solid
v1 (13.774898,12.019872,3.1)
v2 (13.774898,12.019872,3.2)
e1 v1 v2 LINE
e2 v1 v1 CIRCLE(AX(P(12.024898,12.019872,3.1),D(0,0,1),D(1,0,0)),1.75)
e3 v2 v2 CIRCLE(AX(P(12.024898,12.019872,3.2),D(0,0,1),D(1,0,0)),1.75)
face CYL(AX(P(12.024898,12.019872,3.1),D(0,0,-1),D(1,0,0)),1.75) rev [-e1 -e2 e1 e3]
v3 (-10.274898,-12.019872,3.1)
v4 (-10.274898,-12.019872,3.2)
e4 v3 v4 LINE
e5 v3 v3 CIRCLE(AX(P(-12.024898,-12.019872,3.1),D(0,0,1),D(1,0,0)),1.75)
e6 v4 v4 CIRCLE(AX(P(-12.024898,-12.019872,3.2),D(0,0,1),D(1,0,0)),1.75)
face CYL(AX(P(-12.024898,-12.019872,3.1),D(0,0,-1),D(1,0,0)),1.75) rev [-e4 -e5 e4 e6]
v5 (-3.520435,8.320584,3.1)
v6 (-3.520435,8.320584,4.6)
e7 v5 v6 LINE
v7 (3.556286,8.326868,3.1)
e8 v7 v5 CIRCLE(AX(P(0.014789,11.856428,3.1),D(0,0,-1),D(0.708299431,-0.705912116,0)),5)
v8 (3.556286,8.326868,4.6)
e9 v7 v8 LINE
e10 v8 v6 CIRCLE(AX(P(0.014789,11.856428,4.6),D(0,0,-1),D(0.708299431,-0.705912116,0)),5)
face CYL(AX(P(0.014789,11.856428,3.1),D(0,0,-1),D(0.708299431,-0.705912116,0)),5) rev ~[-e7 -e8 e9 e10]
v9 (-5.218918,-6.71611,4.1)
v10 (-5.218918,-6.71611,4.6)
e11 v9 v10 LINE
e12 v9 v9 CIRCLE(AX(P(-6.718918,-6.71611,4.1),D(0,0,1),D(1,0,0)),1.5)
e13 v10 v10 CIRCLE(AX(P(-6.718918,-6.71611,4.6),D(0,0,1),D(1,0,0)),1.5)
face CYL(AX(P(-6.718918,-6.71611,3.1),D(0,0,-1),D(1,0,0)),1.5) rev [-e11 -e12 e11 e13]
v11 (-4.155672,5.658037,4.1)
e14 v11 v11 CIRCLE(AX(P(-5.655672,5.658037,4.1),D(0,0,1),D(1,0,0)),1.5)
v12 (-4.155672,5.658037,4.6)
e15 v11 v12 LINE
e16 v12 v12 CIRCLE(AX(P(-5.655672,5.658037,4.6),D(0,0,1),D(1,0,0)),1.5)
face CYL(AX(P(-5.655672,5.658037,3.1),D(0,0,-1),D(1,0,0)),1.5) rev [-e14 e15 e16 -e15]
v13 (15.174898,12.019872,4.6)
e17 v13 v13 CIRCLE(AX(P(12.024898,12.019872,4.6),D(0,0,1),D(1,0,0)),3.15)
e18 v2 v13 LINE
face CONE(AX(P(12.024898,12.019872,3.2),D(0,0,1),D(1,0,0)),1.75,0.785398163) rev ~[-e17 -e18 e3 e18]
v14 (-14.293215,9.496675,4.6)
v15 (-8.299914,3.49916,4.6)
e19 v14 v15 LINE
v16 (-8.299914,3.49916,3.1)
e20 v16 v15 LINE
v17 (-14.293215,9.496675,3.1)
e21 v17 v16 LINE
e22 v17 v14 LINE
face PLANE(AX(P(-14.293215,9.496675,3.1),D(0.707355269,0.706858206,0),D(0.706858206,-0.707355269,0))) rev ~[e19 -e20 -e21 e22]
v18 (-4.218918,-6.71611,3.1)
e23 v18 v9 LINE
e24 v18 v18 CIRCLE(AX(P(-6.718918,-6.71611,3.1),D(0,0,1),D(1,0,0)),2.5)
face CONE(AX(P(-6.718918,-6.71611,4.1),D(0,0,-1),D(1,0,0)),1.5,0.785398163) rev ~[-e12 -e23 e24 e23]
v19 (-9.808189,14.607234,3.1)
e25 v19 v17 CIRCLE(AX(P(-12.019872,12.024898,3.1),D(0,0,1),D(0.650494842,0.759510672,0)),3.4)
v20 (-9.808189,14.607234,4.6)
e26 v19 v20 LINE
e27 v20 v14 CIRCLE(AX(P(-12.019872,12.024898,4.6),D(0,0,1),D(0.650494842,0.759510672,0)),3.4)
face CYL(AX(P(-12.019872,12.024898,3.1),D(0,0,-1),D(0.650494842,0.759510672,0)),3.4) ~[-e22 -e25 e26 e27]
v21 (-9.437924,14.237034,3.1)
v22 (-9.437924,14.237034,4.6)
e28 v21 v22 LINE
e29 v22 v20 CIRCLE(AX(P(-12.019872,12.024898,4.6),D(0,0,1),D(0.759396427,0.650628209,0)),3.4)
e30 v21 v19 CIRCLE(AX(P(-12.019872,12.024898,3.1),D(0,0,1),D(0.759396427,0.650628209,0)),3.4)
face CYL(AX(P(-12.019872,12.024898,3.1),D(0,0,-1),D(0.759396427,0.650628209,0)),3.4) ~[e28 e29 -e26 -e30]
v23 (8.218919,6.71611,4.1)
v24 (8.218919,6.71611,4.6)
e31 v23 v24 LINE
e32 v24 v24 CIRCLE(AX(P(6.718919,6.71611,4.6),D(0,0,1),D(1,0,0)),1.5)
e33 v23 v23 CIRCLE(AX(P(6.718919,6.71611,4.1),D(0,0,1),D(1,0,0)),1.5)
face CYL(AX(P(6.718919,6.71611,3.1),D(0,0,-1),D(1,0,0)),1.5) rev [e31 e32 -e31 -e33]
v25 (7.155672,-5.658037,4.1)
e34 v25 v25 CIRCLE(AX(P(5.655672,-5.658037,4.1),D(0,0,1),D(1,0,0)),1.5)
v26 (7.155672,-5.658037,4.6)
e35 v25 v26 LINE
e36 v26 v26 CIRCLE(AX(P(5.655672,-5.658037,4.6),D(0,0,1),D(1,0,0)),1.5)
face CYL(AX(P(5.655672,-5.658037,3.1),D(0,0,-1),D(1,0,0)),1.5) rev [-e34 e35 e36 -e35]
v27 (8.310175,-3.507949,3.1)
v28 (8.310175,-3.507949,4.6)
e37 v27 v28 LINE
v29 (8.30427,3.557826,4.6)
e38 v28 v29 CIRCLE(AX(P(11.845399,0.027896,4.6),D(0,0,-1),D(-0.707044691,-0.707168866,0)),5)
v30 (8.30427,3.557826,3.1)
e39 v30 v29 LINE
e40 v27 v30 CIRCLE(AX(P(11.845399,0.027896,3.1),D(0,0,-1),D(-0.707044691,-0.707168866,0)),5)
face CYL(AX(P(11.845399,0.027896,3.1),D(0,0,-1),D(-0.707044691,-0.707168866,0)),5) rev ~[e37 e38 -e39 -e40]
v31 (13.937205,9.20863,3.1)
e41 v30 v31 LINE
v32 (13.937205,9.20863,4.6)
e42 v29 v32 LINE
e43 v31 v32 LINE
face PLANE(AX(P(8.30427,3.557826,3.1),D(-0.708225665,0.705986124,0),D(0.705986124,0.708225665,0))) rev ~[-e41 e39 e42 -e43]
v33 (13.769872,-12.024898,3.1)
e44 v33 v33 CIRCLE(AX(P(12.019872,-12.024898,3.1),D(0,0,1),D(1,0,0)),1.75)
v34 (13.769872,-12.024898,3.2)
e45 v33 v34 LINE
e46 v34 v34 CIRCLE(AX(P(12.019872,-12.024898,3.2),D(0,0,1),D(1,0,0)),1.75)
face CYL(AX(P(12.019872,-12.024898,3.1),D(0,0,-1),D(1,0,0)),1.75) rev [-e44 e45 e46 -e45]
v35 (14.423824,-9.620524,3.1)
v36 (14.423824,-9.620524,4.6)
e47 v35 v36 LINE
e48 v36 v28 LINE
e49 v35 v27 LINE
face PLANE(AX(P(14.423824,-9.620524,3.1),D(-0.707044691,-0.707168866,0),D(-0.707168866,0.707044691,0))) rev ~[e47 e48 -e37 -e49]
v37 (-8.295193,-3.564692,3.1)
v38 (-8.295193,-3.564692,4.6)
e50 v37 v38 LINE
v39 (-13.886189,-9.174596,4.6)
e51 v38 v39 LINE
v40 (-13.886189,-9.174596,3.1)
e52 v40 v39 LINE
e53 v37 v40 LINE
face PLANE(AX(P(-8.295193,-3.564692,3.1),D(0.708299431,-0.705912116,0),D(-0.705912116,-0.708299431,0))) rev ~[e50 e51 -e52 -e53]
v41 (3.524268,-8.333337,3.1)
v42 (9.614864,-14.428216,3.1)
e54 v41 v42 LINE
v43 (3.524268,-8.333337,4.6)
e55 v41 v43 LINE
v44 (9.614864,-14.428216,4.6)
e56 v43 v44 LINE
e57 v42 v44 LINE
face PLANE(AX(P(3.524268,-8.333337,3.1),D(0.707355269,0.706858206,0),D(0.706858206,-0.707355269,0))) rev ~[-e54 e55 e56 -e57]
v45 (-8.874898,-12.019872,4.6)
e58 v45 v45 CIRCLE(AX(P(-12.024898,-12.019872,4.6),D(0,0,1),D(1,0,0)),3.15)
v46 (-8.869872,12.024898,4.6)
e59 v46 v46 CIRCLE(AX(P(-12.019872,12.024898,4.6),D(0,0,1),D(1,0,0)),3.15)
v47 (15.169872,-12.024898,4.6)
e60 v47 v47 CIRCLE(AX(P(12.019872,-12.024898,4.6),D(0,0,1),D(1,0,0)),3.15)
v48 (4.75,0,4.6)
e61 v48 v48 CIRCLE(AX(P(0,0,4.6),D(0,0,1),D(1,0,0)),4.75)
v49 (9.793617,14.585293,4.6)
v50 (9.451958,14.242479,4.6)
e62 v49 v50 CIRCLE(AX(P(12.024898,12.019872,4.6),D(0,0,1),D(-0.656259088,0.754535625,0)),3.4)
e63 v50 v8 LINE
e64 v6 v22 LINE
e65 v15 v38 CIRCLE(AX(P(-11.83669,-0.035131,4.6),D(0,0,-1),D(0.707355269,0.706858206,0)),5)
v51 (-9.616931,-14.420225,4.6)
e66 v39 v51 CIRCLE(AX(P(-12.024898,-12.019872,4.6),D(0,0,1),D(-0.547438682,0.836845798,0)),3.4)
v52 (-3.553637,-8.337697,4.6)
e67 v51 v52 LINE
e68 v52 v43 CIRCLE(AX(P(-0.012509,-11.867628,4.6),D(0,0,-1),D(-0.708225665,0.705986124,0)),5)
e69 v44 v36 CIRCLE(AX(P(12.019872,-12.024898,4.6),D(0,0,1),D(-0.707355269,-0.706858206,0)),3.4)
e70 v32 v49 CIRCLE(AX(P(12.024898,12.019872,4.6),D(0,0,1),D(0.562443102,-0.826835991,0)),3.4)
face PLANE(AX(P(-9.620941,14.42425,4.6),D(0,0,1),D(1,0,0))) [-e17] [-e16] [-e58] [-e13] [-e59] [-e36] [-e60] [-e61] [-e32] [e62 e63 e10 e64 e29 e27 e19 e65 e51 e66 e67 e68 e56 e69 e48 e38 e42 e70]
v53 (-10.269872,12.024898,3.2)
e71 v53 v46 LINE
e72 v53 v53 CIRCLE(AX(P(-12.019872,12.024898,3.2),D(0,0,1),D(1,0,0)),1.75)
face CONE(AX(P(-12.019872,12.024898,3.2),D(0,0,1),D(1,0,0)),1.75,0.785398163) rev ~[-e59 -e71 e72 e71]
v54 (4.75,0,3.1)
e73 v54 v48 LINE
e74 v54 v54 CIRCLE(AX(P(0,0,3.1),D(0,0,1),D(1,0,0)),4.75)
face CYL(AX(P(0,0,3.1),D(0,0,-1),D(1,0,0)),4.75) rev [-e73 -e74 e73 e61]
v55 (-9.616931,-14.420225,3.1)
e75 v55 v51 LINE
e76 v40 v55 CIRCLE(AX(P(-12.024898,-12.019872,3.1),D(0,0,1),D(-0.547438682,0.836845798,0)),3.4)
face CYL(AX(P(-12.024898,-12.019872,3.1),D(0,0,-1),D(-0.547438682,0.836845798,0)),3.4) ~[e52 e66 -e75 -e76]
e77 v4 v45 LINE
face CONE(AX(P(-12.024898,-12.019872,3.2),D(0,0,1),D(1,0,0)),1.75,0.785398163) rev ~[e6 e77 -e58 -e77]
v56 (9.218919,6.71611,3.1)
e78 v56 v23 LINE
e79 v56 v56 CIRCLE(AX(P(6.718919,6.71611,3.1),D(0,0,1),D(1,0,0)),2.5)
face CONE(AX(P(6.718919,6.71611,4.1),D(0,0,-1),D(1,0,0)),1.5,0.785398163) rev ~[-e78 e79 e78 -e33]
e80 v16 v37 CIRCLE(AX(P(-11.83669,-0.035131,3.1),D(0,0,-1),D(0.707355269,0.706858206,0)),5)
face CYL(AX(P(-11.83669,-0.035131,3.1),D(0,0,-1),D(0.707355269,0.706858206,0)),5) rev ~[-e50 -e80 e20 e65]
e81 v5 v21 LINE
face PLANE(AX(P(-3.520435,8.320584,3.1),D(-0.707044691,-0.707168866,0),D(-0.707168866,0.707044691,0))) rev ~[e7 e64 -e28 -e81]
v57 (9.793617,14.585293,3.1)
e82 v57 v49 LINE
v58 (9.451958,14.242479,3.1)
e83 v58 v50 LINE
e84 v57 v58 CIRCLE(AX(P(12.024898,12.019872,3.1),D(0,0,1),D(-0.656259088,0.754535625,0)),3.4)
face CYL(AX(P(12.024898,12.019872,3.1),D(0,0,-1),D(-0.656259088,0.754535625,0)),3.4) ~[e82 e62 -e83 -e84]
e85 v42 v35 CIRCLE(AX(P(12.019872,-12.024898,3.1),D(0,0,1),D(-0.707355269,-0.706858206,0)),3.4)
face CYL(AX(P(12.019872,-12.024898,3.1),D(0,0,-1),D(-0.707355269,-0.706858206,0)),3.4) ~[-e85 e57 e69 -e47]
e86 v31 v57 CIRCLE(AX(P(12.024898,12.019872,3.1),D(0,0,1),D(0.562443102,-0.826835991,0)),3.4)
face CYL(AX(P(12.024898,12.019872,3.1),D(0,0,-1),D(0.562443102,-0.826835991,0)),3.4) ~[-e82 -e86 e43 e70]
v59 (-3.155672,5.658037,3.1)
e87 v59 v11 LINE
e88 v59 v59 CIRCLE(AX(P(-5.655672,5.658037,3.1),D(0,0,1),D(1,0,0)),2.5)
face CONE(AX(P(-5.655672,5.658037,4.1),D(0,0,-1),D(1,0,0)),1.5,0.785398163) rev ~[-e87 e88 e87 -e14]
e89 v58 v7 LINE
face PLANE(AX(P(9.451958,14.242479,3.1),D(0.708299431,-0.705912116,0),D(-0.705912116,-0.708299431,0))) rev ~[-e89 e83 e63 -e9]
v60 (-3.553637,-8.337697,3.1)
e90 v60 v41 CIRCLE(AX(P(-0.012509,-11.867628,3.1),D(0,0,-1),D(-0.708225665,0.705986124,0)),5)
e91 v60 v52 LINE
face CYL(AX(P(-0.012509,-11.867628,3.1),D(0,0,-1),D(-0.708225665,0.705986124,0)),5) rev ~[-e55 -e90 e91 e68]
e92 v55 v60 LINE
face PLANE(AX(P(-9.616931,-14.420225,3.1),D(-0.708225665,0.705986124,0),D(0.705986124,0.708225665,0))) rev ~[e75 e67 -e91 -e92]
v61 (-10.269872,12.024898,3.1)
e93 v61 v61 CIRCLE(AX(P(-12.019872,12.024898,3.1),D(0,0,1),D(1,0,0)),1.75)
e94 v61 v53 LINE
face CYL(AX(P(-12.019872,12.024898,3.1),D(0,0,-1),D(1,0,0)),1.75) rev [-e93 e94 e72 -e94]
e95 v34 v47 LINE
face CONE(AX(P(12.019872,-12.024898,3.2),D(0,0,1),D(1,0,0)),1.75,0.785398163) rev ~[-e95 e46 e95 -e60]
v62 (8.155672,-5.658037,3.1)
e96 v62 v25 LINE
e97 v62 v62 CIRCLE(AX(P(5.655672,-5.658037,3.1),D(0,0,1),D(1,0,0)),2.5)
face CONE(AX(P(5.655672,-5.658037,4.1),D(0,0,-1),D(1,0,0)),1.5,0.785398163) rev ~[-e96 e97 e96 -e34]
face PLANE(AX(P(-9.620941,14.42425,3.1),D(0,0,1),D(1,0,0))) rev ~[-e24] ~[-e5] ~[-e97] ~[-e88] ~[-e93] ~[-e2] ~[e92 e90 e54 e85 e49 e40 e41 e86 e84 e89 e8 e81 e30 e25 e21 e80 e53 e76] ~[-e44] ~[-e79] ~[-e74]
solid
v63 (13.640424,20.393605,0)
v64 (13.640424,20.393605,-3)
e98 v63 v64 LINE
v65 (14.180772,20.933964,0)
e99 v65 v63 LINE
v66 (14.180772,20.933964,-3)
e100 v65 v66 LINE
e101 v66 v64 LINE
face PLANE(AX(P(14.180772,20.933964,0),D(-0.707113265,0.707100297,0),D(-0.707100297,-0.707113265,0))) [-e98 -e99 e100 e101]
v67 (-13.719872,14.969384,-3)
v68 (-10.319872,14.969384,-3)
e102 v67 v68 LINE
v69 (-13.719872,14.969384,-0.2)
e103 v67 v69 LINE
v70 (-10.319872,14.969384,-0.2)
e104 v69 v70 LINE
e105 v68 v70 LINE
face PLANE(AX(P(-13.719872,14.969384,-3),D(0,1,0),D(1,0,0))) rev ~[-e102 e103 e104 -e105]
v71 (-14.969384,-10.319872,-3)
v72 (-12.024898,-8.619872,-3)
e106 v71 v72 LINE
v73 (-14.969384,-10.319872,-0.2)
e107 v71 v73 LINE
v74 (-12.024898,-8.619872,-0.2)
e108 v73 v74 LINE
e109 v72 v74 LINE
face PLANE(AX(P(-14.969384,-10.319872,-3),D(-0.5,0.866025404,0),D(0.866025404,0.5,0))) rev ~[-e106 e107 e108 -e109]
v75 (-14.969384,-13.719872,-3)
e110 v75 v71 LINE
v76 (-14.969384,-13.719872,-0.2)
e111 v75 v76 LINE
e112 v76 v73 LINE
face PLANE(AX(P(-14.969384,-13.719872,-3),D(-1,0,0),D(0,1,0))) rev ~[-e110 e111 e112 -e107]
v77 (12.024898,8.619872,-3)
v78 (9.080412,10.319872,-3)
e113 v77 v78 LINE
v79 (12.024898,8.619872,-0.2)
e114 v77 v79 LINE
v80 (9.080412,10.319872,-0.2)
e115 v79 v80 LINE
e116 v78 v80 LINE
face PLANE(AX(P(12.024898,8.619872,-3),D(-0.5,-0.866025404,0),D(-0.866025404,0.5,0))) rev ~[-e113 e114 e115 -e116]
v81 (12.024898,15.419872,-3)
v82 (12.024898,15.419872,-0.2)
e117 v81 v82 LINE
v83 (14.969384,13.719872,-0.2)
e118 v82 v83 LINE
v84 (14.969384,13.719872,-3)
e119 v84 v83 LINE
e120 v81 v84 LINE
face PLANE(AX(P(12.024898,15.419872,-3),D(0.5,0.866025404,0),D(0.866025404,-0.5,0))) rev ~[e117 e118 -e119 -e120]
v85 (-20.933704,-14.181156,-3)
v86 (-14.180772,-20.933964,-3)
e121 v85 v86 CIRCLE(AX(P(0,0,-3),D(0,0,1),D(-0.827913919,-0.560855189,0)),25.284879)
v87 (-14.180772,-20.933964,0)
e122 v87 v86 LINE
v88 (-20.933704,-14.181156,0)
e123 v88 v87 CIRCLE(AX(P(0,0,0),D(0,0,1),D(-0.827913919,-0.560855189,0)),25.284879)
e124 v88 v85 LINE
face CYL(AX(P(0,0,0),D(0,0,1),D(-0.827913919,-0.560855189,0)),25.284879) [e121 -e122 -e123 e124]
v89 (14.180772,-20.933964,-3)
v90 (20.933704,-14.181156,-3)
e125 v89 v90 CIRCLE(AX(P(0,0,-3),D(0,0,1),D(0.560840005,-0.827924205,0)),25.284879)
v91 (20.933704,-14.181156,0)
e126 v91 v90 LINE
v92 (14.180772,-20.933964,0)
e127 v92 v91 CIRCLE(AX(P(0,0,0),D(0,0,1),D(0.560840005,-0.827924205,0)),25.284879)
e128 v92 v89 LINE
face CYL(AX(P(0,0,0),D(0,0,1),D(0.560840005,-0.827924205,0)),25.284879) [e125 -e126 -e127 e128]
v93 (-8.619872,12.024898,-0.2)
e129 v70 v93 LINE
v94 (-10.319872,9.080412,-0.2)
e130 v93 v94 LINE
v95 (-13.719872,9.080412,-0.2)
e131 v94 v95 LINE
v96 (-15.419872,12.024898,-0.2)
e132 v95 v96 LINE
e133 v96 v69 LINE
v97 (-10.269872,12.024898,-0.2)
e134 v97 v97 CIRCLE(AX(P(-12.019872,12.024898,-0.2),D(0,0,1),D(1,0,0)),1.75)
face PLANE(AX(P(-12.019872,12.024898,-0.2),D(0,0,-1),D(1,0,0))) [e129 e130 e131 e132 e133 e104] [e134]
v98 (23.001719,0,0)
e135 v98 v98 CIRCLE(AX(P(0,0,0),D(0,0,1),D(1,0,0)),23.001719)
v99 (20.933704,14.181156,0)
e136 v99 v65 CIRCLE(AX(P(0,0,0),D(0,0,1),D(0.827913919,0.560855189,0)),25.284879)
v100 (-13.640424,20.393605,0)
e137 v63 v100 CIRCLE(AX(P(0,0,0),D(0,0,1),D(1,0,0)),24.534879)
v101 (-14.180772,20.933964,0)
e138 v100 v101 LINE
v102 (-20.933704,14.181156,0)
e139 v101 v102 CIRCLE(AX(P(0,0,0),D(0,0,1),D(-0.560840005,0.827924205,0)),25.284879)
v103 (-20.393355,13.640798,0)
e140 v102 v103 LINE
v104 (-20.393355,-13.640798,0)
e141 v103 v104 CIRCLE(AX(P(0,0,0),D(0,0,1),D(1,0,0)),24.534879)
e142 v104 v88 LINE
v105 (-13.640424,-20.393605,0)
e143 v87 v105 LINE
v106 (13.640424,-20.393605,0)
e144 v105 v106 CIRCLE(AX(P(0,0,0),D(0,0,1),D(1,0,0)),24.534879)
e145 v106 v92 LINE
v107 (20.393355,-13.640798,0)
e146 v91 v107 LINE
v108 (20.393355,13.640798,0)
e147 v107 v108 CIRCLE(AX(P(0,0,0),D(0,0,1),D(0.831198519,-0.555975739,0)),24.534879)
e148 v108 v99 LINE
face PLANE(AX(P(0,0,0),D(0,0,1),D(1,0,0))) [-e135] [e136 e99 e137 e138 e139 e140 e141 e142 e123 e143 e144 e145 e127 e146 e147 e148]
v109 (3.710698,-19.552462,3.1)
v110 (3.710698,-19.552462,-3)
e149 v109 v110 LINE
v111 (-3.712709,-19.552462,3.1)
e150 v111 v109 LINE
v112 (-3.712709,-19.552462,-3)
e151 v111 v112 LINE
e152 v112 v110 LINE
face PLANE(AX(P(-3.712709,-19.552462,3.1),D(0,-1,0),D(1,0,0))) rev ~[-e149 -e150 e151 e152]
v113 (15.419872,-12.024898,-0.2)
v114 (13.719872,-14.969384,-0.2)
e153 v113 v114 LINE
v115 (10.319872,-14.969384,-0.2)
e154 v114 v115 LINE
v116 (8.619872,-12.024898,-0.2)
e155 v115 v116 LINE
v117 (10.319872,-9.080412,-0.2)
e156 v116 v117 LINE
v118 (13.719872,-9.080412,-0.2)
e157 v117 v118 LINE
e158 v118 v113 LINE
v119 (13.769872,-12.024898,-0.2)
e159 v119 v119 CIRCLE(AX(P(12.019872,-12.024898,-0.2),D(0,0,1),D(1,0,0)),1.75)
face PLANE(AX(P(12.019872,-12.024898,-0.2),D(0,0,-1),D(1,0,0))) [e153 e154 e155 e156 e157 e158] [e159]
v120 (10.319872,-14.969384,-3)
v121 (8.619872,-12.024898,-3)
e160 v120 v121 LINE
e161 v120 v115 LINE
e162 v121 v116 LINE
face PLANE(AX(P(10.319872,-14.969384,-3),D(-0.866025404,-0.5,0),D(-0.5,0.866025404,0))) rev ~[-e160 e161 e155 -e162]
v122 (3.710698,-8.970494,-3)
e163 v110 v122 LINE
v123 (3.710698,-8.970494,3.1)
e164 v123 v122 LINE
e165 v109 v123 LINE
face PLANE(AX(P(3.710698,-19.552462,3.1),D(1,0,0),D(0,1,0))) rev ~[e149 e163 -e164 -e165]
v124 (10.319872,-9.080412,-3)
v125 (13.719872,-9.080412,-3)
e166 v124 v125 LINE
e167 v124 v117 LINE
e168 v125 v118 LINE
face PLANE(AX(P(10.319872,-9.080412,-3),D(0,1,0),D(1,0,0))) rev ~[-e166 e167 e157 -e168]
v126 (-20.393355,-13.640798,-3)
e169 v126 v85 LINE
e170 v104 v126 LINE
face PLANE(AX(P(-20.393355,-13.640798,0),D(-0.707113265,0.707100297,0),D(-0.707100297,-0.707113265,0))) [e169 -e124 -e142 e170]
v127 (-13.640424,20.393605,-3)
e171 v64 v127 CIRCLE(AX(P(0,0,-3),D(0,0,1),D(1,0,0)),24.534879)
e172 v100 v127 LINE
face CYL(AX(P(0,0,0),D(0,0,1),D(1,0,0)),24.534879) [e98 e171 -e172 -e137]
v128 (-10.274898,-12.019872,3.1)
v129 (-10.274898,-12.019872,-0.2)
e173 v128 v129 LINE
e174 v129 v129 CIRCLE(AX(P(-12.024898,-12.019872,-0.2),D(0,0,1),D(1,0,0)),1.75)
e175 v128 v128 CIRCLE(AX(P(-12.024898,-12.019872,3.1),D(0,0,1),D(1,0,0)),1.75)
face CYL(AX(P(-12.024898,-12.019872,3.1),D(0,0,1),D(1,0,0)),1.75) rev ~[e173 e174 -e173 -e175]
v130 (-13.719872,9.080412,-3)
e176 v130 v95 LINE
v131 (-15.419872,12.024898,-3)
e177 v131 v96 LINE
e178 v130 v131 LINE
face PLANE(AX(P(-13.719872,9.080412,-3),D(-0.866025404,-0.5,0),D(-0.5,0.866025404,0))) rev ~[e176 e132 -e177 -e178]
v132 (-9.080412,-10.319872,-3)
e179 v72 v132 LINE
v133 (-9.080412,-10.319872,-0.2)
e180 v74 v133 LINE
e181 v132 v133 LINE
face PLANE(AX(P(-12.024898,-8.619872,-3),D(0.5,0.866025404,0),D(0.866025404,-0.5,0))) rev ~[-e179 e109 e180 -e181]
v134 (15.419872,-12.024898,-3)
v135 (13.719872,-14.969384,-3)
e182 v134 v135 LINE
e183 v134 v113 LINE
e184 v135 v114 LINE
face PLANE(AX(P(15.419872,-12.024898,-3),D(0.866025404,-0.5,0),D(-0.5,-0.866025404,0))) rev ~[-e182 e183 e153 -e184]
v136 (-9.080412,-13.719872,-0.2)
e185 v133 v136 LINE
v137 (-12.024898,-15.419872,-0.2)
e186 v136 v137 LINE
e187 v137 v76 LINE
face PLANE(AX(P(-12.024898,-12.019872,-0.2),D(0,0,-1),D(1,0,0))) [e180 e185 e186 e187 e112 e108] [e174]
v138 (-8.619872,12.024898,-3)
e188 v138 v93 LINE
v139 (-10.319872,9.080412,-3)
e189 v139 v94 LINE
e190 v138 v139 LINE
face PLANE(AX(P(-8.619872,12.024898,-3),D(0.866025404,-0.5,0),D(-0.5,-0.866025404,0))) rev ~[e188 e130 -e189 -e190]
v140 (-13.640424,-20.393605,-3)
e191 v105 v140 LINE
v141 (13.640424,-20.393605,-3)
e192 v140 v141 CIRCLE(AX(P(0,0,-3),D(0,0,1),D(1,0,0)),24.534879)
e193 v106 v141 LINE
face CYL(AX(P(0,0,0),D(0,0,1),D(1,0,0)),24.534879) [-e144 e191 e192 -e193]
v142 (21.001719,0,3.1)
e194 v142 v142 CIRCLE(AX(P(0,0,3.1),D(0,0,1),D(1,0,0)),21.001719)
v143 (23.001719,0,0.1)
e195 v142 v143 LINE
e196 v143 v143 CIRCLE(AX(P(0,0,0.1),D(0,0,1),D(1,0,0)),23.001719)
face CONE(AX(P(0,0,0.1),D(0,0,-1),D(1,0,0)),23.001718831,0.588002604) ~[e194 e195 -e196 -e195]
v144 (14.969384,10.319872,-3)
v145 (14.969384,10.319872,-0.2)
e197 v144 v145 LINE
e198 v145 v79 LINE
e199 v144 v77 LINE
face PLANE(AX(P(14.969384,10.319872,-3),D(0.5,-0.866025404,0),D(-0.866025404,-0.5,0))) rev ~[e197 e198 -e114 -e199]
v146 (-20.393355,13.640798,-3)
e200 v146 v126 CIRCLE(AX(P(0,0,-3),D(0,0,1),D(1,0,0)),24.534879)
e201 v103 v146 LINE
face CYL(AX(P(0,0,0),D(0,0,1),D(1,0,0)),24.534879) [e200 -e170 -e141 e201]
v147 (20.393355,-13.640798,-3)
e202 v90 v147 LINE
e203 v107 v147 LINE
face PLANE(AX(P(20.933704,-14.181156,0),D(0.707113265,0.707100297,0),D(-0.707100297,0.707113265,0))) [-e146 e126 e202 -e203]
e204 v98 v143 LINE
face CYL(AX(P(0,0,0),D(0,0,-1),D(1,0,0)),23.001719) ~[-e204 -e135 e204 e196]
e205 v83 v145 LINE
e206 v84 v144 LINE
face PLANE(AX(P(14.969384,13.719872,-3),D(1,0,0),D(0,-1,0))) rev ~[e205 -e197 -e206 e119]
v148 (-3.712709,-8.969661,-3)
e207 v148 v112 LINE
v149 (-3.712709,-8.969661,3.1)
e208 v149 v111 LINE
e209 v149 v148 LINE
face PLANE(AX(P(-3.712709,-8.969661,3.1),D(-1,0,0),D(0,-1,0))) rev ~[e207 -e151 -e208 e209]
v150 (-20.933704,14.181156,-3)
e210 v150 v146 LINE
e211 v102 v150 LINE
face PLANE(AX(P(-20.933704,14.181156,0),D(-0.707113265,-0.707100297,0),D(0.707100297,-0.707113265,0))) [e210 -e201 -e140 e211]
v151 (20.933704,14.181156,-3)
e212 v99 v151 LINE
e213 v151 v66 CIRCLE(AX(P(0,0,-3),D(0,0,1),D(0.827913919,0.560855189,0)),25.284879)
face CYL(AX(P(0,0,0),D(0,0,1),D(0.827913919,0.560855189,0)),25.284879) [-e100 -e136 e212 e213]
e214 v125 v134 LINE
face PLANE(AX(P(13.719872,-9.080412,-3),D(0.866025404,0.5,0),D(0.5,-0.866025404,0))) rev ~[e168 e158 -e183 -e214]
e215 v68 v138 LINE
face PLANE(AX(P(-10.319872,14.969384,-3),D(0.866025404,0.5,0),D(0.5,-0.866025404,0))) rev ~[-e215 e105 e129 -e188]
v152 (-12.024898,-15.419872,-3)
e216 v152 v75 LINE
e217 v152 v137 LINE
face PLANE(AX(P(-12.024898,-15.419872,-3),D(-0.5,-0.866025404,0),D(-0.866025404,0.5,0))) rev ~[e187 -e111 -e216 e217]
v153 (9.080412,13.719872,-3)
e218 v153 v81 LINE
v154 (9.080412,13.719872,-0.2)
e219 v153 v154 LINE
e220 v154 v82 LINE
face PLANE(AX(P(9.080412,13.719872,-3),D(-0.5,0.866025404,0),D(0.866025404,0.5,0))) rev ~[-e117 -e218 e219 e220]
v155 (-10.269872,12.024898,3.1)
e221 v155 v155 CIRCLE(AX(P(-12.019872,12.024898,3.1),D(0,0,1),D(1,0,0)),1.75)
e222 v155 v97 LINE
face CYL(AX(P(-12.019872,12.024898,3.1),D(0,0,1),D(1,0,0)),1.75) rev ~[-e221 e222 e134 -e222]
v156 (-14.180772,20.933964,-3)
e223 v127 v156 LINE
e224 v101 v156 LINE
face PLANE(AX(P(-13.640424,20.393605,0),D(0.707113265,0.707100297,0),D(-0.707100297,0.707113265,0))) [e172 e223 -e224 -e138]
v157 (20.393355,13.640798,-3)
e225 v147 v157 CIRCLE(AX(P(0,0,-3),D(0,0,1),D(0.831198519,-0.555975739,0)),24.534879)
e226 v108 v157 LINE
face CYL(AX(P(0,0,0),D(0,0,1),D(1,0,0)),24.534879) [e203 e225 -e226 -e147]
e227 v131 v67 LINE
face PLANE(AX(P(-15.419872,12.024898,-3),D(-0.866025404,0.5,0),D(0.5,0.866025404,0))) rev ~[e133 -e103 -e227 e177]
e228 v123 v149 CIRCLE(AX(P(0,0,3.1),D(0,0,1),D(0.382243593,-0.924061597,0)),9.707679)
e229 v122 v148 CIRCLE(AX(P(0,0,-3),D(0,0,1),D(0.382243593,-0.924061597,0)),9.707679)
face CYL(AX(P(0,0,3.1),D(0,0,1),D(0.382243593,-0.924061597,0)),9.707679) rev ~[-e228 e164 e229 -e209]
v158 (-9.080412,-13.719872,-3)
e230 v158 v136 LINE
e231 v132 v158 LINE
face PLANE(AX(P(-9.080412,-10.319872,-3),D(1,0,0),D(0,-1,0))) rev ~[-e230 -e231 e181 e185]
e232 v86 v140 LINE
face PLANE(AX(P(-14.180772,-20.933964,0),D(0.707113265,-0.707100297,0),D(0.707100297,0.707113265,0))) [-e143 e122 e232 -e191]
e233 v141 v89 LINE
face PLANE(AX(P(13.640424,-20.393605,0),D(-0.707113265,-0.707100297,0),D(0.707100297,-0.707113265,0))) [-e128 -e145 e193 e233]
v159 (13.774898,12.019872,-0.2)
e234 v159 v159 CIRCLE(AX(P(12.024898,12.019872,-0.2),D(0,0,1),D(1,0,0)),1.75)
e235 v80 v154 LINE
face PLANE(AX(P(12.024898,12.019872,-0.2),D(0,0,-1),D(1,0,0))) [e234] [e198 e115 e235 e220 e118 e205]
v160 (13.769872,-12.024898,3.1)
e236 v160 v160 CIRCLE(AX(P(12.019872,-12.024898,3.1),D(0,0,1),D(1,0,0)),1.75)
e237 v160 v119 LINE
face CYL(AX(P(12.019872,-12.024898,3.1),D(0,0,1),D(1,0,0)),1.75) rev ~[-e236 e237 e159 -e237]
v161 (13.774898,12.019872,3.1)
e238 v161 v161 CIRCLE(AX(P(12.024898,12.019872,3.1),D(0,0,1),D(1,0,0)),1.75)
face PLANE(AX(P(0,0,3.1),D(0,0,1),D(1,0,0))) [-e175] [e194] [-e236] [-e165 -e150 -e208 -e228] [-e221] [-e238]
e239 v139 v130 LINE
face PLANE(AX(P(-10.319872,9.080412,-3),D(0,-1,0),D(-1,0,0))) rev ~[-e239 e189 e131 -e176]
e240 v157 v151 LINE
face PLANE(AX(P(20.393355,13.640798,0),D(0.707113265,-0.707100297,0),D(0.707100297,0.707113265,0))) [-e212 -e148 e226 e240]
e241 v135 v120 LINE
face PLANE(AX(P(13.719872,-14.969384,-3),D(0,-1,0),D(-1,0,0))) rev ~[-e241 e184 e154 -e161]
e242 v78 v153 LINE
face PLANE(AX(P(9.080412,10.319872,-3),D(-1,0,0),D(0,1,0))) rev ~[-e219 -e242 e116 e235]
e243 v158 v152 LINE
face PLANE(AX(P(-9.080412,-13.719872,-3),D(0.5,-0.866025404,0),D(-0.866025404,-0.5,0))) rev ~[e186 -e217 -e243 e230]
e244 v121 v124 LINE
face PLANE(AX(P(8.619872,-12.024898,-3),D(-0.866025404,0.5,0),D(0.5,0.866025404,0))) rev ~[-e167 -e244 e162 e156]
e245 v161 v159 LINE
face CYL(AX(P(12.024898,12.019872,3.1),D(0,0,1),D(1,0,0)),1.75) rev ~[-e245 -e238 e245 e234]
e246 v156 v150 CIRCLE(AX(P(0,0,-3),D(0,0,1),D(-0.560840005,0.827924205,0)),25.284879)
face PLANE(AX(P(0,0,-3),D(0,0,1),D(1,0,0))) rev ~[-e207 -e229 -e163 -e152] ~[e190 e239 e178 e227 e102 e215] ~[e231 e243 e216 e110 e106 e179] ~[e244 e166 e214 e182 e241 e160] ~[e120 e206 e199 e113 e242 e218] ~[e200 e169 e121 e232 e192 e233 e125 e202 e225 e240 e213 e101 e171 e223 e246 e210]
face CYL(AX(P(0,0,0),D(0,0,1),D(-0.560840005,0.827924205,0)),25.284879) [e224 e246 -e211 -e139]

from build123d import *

# Parameters (mm, degrees)
F0_R      = 24.5348793033
F1_DEPTH  = 3
F2_R      = 23.001718831
F3_DEPTH  = 3.1
F4_SIZE2  = 3
F4_SIZE   = 2
F7_DEPTH  = 25
F5_R      = 1.75
F8_DEPTH  = 25
F9_R      = 1.75
F9_R_2    = 1.5
F9_R_3    = 4.75
F10_DEPTH = 1.5
F11_SIZE  = 1.4
F13_DEPTH = 2.8
F15_DEPTH = 3
F16_SIZE  = 1


with BuildPart() as f1:
    # F0 (on Top) → F1 (new body)
    with BuildSketch(Plane.XY):
        Circle(F0_R)
    extrude(amount=-F1_DEPTH)

    # F2 (on face) → F3 (join)
    with BuildSketch(Plane.XY):
        Circle(F2_R)
    extrude(amount=F3_DEPTH)

    # F4
    f4_edges = [f1.edges().sort_by_distance(p)[0] for p in [
        (-23.001719, 0, 3.1),
    ]]
    f4_side = f1.faces().sort_by_distance((0, 0, 3.1))[0]
    chamfer(f4_edges, length=F4_SIZE, length2=F4_SIZE2, reference=f4_side)

    # F6 (on face) → F7 (cut)
    with BuildSketch(Plane.XY.offset(3.1)):
        with BuildLine():
            Line((3.7106982378, -19.552461803), (3.7106982378, -8.9704936956))
            ThreePointArc((3.7106982378, -8.9704936956), (0.0010883204, 9.7076792989), (-3.7127094947, -8.9696614631))
            Line((-3.7127094947, -8.9696614631), (-3.7127094947, -19.552461803))
            Line((-3.7127094947, -19.552461803), (3.7106982378, -19.552461803))
        make_face()
    extrude(amount=-F7_DEPTH, mode=Mode.SUBTRACT)

    # F5 (on face) → F8 (cut)
    with BuildSketch(Plane.XY.offset(3.1)):
        with Locations((-12.0198717341, 12.024898082)):
            Circle(F5_R)
        with Locations((-12.024898082, -12.0198717341)):
            Circle(F5_R)
        with Locations((12.0198717341, -12.024898082)):
            Circle(F5_R)
        with Locations((12.024898082, 12.0198717341)):
            Circle(F5_R)
    extrude(amount=-F8_DEPTH, mode=Mode.SUBTRACT)

    # F12 (on face) → F13 (cut)
    with BuildSketch(Plane(origin=(0, 0, -3), x_dir=(1, 0, 0), z_dir=(0, 0, -1))):
        Polygon((10.3198717341, 9.0804117092), (13.7198717341, 9.0804117092), (15.4198717341, 12.024898082), (13.7198717341, 14.9693844549), (10.3198717341, 14.9693844549), (8.6198717341, 12.024898082), align=None)
        Polygon((-14.9693844549, 10.3198717341), (-12.024898082, 8.6198717341), (-9.0804117092, 10.3198717341), (-9.0804117092, 13.7198717341), (-12.024898082, 15.4198717341), (-14.9693844549, 13.7198717341), align=None)
        Polygon((-10.3198717341, -14.9693844549), (-8.6198717341, -12.024898082), (-10.3198717341, -9.0804117092), (-13.7198717341, -9.0804117092), (-15.4198717341, -12.024898082), (-13.7198717341, -14.9693844549), align=None)
        Polygon((14.9693844549, -10.3198717341), (12.024898082, -8.6198717341), (9.0804117092, -10.3198717341), (9.0804117092, -13.7198717341), (12.024898082, -15.4198717341), (14.9693844549, -13.7198717341), align=None)
    extrude(amount=-F13_DEPTH, mode=Mode.SUBTRACT)

    # F14 (on face) → F15 (join, through all)
    with BuildSketch(Plane.XY):
        with BuildLine():
            Line((-20.933703516, 14.1811557528), (-20.3933553313, 13.6407976583))
            ThreePointArc((-20.3933553313, 13.6407976583), (-17.3486204447, 17.3489386157), (-13.6404236486, 20.3936054957))
            Line((-13.6404236486, 20.3936054957), (-14.1807718332, 20.9339635902))
            ThreePointArc((-14.1807718332, 20.9339635902), (-17.8789456676, 17.8792735646), (-20.933703516, 14.1811557528))
        make_face()
        with BuildLine():
            Line((14.1807718332, 20.9339635902), (13.6404236486, 20.3936054957))
            ThreePointArc((13.6404236486, 20.3936054957), (17.3486204447, 17.3489386157), (20.3933553313, 13.6407976583))
            Line((20.3933553313, 13.6407976583), (20.933703516, 14.1811557528))
            ThreePointArc((20.933703516, 14.1811557528), (17.8789456676, 17.8792735646), (14.1807718332, 20.9339635902))
        make_face()
        with BuildLine():
            Line((-20.3933553313, -13.6407976583), (-20.933703516, -14.1811557528))
            ThreePointArc((-20.933703516, -14.1811557528), (-17.8789456676, -17.8792735646), (-14.1807718332, -20.9339635902))
            Line((-14.1807718332, -20.9339635902), (-13.6404236486, -20.3936054957))
            ThreePointArc((-13.6404236486, -20.3936054957), (-17.3486204447, -17.3489386157), (-20.3933553313, -13.6407976583))
        make_face()
        with BuildLine():
            ThreePointArc((20.3933553313, -13.6407976583), (17.3486204447, -17.3489386157), (13.6404236486, -20.3936054957))
            Line((13.6404236486, -20.3936054957), (14.1807718332, -20.9339635902))
            ThreePointArc((14.1807718332, -20.9339635902), (17.8789456676, -17.8792735646), (20.933703516, -14.1811557528))
            Line((20.933703516, -14.1811557528), (20.3933553313, -13.6407976583))
        make_face()
    extrude(amount=-F15_DEPTH)


with BuildPart() as f10:
    # F9 (on face) → F10 (new body)
    with BuildSketch(Plane.XY.offset(3.1)):
        with BuildLine():
            Line((-9.8081892726, 14.6072343672), (-9.4379238803, 14.2370339911))
            ThreePointArc((-9.4379238803, 14.2370339911), (-9.6159197838, 14.4292722252), (-9.8081892726, 14.6072343672))
        make_face()
        with BuildLine():
            Line((-3.5204347872, 8.3205839718), (-9.4379238803, 14.2370339911))
            Line((-9.4379238803, 14.2370339911), (-9.8081892726, 14.6072343672))
            ThreePointArc((-9.8081892726, 14.6072343672), (-14.5753374635, 14.2675739181), (-14.293214512, 9.4966748691))
            Line((-14.293214512, 9.4966748691), (-8.2999140432, 3.499159906))
            ThreePointArc((-8.2999140432, 3.499159906), (-6.8366915057, -0.0317895968), (-8.2951932329, -3.5646917038))
            Line((-8.2951932329, -3.5646917038), (-13.8861894319, -9.1745960212))
            ThreePointArc((-13.8861894319, -9.1745960212), (-14.6619167368, -14.1660617828), (-9.616930653, -14.4202245568))
            Line((-9.616930653, -14.4202245568), (-3.5536370818, -8.3376969085))
            ThreePointArc((-3.5536370818, -8.3376969085), (-0.0155890528, -6.8676284788), (3.5242675881, -8.3333365008))
            Line((3.5242675881, -8.3333365008), (9.6148639876, -14.4282158133))
            ThreePointArc((9.6148639876, -14.4282158133), (14.4237179823, -14.4293779042), (14.4238238531, -9.6205237702))
            Line((14.4238238531, -9.6205237702), (8.3101751825, -3.5079486176))
            ThreePointArc((8.3101751825, -3.5079486176), (6.8454003848, 0.0237172124), (8.3042703148, 3.5578263322))
            Line((8.3042703148, 3.5578263322), (13.9372046303, 9.2086295323))
            ThreePointArc((13.9372046303, 9.2086295322), (14.7179565191, 14.0953083038), (9.7936171829, 14.5852930278))
            Line((9.7936171829, 14.5852930278), (9.4519583975, 14.242478791))
            Line((9.4519583975, 14.242478791), (3.5562858254, 8.3268677194))
            ThreePointArc((3.5562858254, 8.3268677194), (0.0192283987, 6.8564302711), (-3.5204347872, 8.3205839718))
        make_face()
        with Locations((-12.024898082, -12.0198717341)):
            Circle(F9_R, mode=Mode.SUBTRACT)
        with Locations((-6.7189183804, -6.71611)):
            Circle(F9_R_2, mode=Mode.SUBTRACT)
        with Locations((8.44e-08, 8.43e-08)):
            Circle(F9_R_3, mode=Mode.SUBTRACT)
        with Locations((12.0198717341, -12.024898082)):
            Circle(F9_R, mode=Mode.SUBTRACT)
        with Locations((5.6556717343, -5.6580365176)):
            Circle(F9_R_2, mode=Mode.SUBTRACT)
        with Locations((-5.6556715655, 5.6580366862)):
            Circle(F9_R_2, mode=Mode.SUBTRACT)
        with Locations((-12.0198717341, 12.024898082)):
            Circle(F9_R, mode=Mode.SUBTRACT)
        with Locations((6.7189185491, 6.7161101686)):
            Circle(F9_R_2, mode=Mode.SUBTRACT)
        with Locations((12.024898082, 12.0198717341)):
            Circle(F9_R, mode=Mode.SUBTRACT)
        with BuildLine():
            ThreePointArc((9.7936171829, 14.5852930278), (9.6166800158, 14.4199730976), (9.4519583975, 14.242478791))
            Line((9.4519583975, 14.242478791), (9.7936171829, 14.5852930278))
        make_face()
    extrude(amount=F10_DEPTH)

    # F11
    f11_edges = [f10.edges().sort_by_distance(p)[0] for p in [
        (-13.769872, 12.024898, 4.6),
        (10.274898, 12.019872, 4.6),
        (-13.774898, -12.019872, 4.6),
        (10.269872, -12.024898, 4.6),
    ]]
    chamfer(f11_edges, length=F11_SIZE)

    # F16
    f16_edges = [f10.edges().sort_by_distance(p)[0] for p in [
        (-8.218918, -6.71611, 3.1),
        (-7.155672, 5.658037, 3.1),
        (4.155672, -5.658037, 3.1),
        (5.218919, 6.71611, 3.1),
    ]]
    chamfer(f16_edges, length=F16_SIZE)


solid = Compound([f1.part, f10.part])
